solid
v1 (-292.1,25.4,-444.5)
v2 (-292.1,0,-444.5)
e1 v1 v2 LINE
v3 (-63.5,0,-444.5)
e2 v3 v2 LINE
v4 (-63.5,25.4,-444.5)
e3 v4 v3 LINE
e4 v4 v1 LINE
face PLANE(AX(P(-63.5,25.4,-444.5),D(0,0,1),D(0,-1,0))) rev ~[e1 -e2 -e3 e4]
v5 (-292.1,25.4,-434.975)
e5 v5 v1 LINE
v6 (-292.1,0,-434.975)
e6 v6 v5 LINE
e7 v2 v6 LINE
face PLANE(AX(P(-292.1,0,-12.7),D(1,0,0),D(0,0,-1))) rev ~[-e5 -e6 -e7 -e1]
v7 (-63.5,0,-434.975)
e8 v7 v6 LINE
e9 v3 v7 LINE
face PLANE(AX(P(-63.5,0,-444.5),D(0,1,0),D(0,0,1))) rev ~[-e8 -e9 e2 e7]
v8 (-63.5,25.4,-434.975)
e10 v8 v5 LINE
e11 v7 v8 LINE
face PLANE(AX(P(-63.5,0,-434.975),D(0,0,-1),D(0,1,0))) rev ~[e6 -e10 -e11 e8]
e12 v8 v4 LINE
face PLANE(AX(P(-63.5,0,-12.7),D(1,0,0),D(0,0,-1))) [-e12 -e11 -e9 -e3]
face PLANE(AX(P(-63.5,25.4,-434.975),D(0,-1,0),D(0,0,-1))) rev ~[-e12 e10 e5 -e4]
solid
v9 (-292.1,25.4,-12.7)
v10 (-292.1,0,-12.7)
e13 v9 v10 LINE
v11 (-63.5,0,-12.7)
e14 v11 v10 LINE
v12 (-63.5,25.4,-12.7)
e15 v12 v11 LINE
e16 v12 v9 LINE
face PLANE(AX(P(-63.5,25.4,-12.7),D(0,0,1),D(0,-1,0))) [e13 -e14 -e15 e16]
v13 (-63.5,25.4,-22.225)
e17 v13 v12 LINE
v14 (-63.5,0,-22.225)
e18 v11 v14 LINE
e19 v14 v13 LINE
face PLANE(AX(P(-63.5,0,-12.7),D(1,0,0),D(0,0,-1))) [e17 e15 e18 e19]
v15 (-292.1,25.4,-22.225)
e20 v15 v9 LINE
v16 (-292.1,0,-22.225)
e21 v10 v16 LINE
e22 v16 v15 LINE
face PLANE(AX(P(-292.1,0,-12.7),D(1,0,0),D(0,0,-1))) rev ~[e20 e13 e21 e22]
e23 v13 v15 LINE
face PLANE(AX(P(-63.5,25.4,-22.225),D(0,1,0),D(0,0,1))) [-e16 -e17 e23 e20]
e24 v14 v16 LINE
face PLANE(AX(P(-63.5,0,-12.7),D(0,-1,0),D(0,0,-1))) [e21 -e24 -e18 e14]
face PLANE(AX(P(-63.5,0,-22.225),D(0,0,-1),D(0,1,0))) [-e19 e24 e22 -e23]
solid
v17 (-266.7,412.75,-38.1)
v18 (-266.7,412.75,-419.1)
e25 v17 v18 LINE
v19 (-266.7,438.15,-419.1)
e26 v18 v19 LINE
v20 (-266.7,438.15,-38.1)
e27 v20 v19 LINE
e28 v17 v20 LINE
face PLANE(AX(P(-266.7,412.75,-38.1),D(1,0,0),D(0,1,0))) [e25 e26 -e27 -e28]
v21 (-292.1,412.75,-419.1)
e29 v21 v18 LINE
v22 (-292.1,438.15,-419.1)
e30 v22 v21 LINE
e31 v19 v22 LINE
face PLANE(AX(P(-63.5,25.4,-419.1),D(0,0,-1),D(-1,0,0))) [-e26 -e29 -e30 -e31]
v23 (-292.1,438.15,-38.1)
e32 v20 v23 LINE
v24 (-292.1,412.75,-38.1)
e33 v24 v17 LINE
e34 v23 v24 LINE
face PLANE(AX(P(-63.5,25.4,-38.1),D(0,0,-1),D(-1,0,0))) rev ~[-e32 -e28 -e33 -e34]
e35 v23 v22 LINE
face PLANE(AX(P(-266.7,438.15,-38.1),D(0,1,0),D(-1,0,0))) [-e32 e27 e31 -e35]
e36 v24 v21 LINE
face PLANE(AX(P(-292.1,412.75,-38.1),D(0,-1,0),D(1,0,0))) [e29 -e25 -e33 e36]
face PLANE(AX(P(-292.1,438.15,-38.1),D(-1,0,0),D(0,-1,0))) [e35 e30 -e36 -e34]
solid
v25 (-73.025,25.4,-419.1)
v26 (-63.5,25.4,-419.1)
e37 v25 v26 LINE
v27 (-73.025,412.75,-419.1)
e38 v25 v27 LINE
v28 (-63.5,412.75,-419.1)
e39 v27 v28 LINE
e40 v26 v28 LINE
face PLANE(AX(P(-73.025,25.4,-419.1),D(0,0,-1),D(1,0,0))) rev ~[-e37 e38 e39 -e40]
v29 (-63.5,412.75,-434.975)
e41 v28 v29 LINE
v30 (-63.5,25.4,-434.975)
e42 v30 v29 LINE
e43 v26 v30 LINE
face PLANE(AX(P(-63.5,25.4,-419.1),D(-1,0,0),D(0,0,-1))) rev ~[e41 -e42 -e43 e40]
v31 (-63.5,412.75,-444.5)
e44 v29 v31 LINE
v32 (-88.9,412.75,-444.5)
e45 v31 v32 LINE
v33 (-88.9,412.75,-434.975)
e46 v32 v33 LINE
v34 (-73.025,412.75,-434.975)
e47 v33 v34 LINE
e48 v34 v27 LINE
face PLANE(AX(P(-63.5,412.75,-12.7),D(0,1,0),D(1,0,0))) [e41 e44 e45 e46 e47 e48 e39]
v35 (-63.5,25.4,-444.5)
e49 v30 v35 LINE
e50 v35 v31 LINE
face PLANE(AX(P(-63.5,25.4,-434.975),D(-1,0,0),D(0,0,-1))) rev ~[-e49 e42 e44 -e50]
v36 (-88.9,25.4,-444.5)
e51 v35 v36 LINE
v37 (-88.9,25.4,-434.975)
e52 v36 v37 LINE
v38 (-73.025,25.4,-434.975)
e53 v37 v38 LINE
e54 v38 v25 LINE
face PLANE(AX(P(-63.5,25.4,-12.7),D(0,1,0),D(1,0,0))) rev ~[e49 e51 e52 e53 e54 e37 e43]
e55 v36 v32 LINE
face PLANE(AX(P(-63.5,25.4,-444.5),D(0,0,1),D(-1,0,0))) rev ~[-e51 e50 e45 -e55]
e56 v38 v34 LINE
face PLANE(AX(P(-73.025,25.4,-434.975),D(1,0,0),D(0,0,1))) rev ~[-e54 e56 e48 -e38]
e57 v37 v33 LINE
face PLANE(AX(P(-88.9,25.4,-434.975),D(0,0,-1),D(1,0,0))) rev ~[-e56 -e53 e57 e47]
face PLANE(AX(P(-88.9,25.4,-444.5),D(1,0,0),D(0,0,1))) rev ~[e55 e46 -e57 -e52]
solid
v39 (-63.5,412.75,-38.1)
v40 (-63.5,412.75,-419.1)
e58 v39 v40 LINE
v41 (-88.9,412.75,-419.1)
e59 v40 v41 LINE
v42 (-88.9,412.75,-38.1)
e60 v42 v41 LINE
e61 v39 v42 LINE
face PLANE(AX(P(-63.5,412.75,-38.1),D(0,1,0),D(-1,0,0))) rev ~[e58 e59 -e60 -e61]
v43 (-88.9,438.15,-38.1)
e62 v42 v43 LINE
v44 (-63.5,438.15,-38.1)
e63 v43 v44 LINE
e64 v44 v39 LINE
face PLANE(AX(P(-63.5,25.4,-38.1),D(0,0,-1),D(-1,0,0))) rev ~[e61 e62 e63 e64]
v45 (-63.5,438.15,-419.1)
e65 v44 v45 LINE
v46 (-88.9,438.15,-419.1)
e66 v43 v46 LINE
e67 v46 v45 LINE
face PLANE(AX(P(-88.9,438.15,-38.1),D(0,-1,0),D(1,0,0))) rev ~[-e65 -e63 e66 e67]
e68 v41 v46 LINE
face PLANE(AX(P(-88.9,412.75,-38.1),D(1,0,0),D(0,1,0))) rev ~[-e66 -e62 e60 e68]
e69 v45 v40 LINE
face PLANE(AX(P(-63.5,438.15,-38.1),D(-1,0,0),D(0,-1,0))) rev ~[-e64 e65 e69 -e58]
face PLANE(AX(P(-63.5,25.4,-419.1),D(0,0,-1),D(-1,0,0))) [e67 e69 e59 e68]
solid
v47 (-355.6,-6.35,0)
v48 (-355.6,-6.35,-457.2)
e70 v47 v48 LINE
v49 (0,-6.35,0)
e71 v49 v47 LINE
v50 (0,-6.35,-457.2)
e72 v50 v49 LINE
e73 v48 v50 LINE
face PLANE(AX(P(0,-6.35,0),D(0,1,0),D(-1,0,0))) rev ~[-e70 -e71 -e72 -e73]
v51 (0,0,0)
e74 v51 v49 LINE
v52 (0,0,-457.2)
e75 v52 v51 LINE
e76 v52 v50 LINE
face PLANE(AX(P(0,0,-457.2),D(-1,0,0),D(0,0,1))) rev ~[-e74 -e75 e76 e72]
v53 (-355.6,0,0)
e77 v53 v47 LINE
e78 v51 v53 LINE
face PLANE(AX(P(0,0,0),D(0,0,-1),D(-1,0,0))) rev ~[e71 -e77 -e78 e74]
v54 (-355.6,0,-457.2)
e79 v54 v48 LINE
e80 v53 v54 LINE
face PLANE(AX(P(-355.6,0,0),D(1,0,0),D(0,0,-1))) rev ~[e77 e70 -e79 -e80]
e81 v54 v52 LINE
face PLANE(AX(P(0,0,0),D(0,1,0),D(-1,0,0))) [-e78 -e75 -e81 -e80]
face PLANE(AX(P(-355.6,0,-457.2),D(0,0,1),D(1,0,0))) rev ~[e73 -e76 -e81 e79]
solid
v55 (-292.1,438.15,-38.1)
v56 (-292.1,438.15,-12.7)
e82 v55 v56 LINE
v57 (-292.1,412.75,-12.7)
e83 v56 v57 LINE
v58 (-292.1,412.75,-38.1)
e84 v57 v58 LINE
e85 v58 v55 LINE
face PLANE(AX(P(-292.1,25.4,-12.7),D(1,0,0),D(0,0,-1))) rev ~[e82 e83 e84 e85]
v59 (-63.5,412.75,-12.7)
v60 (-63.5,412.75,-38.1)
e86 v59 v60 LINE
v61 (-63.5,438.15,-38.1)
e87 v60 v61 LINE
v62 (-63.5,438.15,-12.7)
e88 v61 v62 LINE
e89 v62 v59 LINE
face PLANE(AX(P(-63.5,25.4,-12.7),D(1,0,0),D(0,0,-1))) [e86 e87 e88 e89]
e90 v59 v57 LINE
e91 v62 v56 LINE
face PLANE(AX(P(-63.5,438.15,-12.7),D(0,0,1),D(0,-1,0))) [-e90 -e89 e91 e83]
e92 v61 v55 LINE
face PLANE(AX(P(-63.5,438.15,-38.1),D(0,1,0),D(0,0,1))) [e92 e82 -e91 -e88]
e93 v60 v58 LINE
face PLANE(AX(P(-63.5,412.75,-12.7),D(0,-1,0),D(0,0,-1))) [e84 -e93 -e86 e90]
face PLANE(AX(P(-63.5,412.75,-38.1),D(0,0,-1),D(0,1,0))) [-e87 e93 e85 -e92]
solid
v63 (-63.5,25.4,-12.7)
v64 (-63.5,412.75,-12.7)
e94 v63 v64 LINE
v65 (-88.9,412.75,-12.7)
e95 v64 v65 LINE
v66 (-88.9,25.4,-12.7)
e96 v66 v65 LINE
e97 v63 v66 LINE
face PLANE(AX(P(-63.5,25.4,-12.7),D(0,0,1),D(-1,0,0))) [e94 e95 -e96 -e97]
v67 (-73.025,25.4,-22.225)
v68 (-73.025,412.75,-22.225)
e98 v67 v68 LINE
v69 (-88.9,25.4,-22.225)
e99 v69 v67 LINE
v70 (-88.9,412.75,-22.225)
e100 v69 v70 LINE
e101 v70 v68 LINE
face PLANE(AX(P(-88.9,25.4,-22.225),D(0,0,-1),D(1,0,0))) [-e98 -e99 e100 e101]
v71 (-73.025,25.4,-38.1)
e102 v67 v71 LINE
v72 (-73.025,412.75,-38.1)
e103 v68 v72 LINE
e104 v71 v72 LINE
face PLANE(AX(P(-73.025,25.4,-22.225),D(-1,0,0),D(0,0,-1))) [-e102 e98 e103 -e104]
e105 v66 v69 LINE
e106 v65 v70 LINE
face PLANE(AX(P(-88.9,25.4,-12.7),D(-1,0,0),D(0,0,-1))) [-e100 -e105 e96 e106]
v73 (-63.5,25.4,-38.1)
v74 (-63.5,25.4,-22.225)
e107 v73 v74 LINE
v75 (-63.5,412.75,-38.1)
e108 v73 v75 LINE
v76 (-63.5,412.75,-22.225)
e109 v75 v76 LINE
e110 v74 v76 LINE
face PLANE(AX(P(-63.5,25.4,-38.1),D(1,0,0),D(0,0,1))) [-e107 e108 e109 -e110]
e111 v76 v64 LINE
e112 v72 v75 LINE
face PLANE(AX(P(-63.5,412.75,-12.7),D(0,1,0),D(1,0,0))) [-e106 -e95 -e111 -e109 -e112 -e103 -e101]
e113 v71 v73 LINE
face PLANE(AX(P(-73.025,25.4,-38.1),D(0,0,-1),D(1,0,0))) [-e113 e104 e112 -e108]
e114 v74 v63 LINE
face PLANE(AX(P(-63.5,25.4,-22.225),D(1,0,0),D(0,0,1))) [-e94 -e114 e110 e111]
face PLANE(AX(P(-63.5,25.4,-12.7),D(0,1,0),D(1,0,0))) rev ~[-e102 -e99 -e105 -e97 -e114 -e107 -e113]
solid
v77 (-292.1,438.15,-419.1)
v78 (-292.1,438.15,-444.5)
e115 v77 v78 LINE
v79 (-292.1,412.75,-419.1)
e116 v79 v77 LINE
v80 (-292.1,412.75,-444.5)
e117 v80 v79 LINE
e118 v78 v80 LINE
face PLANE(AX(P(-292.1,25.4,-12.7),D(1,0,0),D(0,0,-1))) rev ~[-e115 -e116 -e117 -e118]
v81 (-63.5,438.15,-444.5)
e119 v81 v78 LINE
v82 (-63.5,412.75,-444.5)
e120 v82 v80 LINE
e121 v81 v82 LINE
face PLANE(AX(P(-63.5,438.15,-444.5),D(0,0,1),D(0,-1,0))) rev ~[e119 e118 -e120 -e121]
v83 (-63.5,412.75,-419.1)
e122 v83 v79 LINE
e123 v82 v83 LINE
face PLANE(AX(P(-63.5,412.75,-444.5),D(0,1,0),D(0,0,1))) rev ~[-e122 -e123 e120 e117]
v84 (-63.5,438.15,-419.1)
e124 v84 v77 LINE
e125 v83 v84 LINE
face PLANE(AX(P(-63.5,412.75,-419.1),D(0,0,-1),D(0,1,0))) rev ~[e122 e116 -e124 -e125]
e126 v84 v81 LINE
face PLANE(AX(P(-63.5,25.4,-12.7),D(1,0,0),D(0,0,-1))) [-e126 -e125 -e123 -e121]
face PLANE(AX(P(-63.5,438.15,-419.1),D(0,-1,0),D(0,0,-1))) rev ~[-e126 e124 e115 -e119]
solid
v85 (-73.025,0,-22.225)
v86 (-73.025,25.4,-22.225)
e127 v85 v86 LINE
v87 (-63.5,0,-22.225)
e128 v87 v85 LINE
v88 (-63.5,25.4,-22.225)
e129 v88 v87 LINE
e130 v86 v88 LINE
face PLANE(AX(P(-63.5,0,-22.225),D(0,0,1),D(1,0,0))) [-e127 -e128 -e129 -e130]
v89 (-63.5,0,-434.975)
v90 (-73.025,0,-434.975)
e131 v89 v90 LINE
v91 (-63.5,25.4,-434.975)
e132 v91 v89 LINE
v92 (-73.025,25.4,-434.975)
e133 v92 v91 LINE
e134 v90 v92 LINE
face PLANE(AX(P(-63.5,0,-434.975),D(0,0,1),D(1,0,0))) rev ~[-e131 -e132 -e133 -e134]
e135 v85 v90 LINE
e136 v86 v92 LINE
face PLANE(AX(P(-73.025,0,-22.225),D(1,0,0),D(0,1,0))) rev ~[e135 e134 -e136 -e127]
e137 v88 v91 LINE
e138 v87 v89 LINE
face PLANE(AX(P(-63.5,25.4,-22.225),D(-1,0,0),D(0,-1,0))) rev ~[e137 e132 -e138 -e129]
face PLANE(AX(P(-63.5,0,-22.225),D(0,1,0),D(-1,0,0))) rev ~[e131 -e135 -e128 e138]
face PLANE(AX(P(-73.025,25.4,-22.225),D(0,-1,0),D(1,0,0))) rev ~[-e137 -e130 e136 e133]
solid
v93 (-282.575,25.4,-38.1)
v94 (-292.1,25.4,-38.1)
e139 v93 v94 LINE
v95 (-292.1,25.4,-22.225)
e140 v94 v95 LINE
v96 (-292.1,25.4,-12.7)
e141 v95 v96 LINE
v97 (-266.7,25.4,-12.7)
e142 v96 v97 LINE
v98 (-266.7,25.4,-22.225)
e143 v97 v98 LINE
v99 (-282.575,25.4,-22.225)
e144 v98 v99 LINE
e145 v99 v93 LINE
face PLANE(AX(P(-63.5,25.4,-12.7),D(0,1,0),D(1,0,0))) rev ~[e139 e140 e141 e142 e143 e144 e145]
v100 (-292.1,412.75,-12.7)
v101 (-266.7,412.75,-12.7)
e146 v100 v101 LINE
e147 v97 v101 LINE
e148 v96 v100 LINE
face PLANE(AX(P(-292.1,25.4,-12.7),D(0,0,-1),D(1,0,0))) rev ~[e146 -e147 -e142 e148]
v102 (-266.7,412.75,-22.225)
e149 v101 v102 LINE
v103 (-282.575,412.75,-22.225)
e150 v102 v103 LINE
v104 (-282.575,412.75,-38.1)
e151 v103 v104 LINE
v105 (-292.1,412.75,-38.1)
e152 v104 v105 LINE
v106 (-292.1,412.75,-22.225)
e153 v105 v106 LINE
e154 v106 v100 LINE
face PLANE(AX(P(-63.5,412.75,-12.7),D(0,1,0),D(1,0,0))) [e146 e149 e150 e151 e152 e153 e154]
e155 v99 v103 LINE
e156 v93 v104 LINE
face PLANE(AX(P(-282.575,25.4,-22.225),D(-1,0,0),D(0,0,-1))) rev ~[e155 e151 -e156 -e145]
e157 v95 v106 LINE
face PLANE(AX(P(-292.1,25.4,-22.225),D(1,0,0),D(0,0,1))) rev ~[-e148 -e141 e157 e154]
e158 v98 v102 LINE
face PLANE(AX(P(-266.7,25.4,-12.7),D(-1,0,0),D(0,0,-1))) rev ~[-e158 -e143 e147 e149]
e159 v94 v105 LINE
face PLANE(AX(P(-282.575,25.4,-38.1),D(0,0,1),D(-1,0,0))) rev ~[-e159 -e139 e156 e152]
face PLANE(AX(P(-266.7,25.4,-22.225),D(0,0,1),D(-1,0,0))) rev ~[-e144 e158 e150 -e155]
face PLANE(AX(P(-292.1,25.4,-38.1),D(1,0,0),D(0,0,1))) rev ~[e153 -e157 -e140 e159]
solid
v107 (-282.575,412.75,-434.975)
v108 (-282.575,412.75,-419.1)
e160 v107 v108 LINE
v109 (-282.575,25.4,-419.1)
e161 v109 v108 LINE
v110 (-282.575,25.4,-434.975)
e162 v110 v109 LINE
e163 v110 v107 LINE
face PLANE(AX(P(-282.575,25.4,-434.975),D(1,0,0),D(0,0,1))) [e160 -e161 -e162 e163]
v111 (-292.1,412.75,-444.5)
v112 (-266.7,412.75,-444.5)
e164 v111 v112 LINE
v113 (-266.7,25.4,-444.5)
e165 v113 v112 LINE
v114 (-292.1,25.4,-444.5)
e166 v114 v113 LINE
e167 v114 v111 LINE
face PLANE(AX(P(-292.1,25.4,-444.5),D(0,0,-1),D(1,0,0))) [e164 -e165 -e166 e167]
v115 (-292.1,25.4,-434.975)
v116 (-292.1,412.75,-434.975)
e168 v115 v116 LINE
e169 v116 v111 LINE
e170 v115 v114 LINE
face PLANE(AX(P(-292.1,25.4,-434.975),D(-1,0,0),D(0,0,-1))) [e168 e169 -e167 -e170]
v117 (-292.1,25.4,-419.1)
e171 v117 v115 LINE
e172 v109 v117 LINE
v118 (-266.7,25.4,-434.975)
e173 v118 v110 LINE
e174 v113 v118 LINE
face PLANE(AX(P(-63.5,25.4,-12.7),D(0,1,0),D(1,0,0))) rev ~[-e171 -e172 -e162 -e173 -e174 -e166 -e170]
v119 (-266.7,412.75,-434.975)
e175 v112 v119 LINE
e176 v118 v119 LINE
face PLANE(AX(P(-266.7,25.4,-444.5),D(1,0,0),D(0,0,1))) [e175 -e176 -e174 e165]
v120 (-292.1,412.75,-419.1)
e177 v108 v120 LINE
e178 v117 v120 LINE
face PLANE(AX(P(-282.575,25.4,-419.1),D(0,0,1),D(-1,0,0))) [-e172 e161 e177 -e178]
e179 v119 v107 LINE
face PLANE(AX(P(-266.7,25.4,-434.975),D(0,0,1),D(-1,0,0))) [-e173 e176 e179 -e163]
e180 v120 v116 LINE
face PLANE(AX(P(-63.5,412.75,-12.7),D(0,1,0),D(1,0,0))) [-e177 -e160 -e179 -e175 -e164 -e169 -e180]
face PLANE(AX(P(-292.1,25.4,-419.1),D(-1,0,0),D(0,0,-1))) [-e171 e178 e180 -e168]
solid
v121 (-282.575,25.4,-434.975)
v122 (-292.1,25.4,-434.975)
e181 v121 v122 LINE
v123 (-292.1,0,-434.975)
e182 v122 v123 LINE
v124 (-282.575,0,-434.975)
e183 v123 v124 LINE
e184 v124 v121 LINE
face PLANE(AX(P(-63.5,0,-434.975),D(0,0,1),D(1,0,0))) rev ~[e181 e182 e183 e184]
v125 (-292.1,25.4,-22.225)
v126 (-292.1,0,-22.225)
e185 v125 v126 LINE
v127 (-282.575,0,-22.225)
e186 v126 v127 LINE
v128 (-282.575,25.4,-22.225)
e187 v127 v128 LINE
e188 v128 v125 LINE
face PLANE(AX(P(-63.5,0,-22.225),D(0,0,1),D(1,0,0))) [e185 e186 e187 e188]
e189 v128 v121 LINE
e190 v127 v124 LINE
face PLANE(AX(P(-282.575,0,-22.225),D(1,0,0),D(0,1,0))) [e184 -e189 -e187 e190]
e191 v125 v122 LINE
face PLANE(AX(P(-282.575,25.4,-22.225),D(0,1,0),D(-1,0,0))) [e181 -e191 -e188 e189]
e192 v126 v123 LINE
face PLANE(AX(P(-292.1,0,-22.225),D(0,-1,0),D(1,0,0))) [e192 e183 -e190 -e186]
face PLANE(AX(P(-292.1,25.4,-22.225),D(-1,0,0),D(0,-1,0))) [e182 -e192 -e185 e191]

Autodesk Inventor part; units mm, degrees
sketch "BasePlateShapeAndLayout" plane through (0, 0, 0) normal (0, 1, 0) x (-1, 0, 0)
  line L0 (0, 0) -> (355.6, 0)
  line L1 (355.6, 0) -> (355.6, -457.2)
  line L2 (355.6, -457.2) -> (0, -457.2)
  line L3 (0, -457.2) -> (0, 0)
  line L4 (355.6, 0) -> (0, -457.2) construction
  line L5 (355.6, -457.2) -> (0, 0) construction
  line L6 (292.1, -444.5) -> (63.5, -444.5)
  line L7 (63.5, -444.5) -> (63.5, -12.7)
  line L8 (63.5, -12.7) -> (292.1, -12.7)
  line L9 (292.1, -12.7) -> (292.1, -444.5)
  line L10 (292.1, -444.5) -> (63.5, -12.7) construction
  line L11 (63.5, -444.5) -> (292.1, -12.7) construction
  line L12 (282.575, -22.225) -> (73.025, -22.225)
  line L13 (73.025, -22.225) -> (73.025, -434.975)
  line L14 (73.025, -434.975) -> (282.575, -434.975)
  line L15 (282.575, -434.975) -> (282.575, -22.225)
  line L16 (63.5, -173.0375) -> (63.5, -12.7)
  line L17 (292.1, -22.225) -> (292.1, -12.7)
  line L18 (292.1, -12.7) -> (282.575, -12.7)
  line L19 (282.575, -12.7) -> (282.575, -22.225)
  line L20 (282.575, -22.225) -> (292.1, -22.225)
  line L21 (292.1, -22.225) -> (292.1, -12.7)
  line L22 (63.5, -12.7) -> (73.025, -12.7)
  line L23 (73.025, -12.7) -> (73.025, -22.225)
  line L24 (73.025, -22.225) -> (63.5, -22.225)
  line L25 (63.5, -22.225) -> (63.5, -12.7)
  line L26 (73.025, -434.975) -> (63.5, -434.975)
  line L27 (63.5, -434.975) -> (63.5, -444.5)
  line L28 (63.5, -444.5) -> (73.025, -444.5)
  line L29 (73.025, -444.5) -> (73.025, -434.975)
  line L30 (282.575, -434.975) -> (292.1, -434.975)
  line L31 (292.1, -434.975) -> (292.1, -444.5)
  line L32 (292.1, -444.5) -> (282.575, -444.5)
  line L33 (282.575, -444.5) -> (282.575, -434.975)
  line L34 (292.1, -12.7) -> (282.575, -22.225)
  line L35 (63.5, -12.7) -> (73.025, -22.225)
  line L36 (63.5, -444.5) -> (73.025, -434.975)
  line L37 (292.1, -444.5) -> (282.575, -434.975)
  point P0 (177.8, -228.6)
  dimension "d0" = 355.6
  dimension "d1" = 457.2
  dimension "d52" = 228.6
  dimension "d53" = 431.8
  dimension "d54" = 9.525
extrude "Extrusion1" add sketch "BasePlateShapeAndLayout" against normal blind 6.35 contours L0 L1 L2 L3 | L37 L30 L9 | L6 L33 L37 | L6 L29 L14 L33 | L30 L15 L20 L9 | L14 L13 L12 L15 | L6 L36 L29 | L20 L34 L9 | L26 L7 L24 L13 | L36 L7 L26 | L12 L23 L8 L19 | L19 L8 L34 | L35 L8 L23 | L24 L7 L35
sketch "MountingHoles" plane through (0, 0, 0) normal (0, -1, 0) x (1, 0, 0)
  line L0 (0, -457.2) -> (0, 0) projected
  line L1 (0, 0) -> (-355.6, 0) projected
  line L2 (-25.4, -431.8) -> (-25.4, 0) construction
  line L3 (-25.4, -25.4) -> (-25.4, -457.2) construction
  line L4 (-355.6, -457.2) -> (0, -457.2) construction
  line L5 (-330.2, -431.8) -> (-355.6, -431.8) construction
  line L6 (-355.6, 0) -> (-355.6, -457.2) construction
  line L7 (-25.4, -431.8) -> (0, -431.8) construction
  point P0 (-25.4, -330.2)
  point P1 (-25.4, -228.6)
  point P2 (-25.4, -127)
  point P3 (-127, -431.8)
  point P4 (-127, -330.2)
  point P5 (-127, -228.6)
  point P6 (-127, -127)
  point P7 (-127, -25.4)
  point P8 (-228.6, -431.8)
  point P9 (-228.6, -330.2)
  point P10 (-228.6, -228.6)
  point P11 (-228.6, -127)
  point P12 (-228.6, -25.4)
  point P13 (-330.2, -330.2)
  point P14 (-330.2, -228.6)
  point P15 (-330.2, -127)
  point P16 (-330.2, -25.4)
  dimension "d8" = 101.6
  dimension "d11" = 101.6
ref_plane "Work Plane6" through (-63.5, 0, -12.7) normal (1, 0, 0) x (0, 0, -1)
ref_plane "Work Plane7" through (-63.5, 0, -22.225) normal (0, 0, 1) x (1, 0, 0)
ref_plane "Work Plane8" through (-63.5, 0, -434.975) normal (0, 0, -1) x (-1, 0, 0)
ref_plane "Work Plane9" through (-292.1, 0, -12.7) normal (-1, 0, 0) x (0, 0, 1)
sketch "Sketch7" plane through (-63.5, 0, -12.7) normal (1, 0, 0) x (0, 0, -1)
  line L0 (0, 0) -> (9.525, 0)
  line L1 (9.525, 0) -> (9.525, 25.4)
  line L2 (9.525, 25.4) -> (0, 25.4)
  line L3 (0, 25.4) -> (0, 0)
  line L4 (431.8, 0) -> (0, 0) projected
  line L5 (215.9, 0) -> (215.9, 19.2581) construction
  line L6 (431.8, 0) -> (422.275, 0)
  line L7 (422.275, 0) -> (422.275, 25.4)
  line L8 (422.275, 25.4) -> (431.8, 25.4)
  line L9 (431.8, 25.4) -> (431.8, 0)
  point P0 (-12.7, 0)
  point P1 (0, 0)
  point P2 (431.8, 0)
  point P3 (422.275, 0)
  dimension "d62" = 9.525
  dimension "d63" = 25.4
sketch "Sketch8" plane through (-63.5, 0, -22.225) normal (0, 0, 1) x (1, 0, 0)
  line L0 (0, 0) -> (-9.525, 0)
  line L1 (-9.525, 0) -> (-9.525, 25.4)
  line L2 (-9.525, 25.4) -> (0, 25.4)
  line L3 (0, 25.4) -> (0, 0)
  line L4 (-114.3, 0) -> (-114.3, 16.4265) construction
  line L5 (-228.6, 0) -> (-219.075, 0)
  line L6 (-219.075, 0) -> (-219.075, 25.4)
  line L7 (-219.075, 25.4) -> (-228.6, 25.4)
  line L8 (-228.6, 25.4) -> (-228.6, 0)
  point P0 (63.5, 0)
  point P1 (0, 0)
  point P2 (-228.6, 0)
  dimension "d64" = 9.525
  dimension "d65" = 25.4
extrude "Extrusion9" add sketch "Sketch7" against normal up to surface (228.6 mm away) separate body contours L3 L2 L1 L0
extrude "Extrusion10" add sketch "Sketch7" against normal up to surface (228.6 mm away) separate body contours L7 L8 L9 L4
extrude "Extrusion11" add sketch "Sketch8" against normal up to surface (412.75 mm away) separate body contours L0 L1 L2 L3
extrude "Extrusion12" add sketch "Sketch8" against normal up to surface (412.75 mm away) separate body contours L8 L7 L6 L5
sketch "Sketch9" plane through (-63.5, 25.4, -12.7) normal (0, 1, 0) x (1, 0, 0)
  line L0 (0, 9.525) -> (0, 0) projected
  line L1 (0, 0) -> (-25.4, 0)
  line L2 (-25.4, 0) -> (-25.4, 25.4)
  line L3 (-25.4, 25.4) -> (0, 25.4)
  line L4 (0, 25.4) -> (0, 0)
  line L5 (-25.4, 9.525) -> (-9.525, 9.525)
  line L6 (-114.3, 215.9) -> (-110.8317, 215.9) construction
  line L7 (-114.3, 215.9) -> (-114.3, 210.2054) construction
  line L8 (-9.525, 9.525) -> (-9.525, 25.4)
  line L9 (-228.6, 9.525) -> (-228.6, 0)
  line L10 (-228.6, 0) -> (-203.2, 0)
  line L11 (-203.2, 0) -> (-203.2, 25.4)
  line L12 (-203.2, 25.4) -> (-228.6, 25.4)
  line L13 (-228.6, 25.4) -> (-228.6, 0)
  line L14 (-203.2, 9.525) -> (-219.075, 9.525)
  line L15 (-219.075, 9.525) -> (-219.075, 25.4)
  line L16 (0, 422.275) -> (0, 431.8)
  line L17 (0, 431.8) -> (-25.4, 431.8)
  line L18 (-25.4, 431.8) -> (-25.4, 406.4)
  line L19 (-25.4, 406.4) -> (0, 406.4)
  line L20 (0, 406.4) -> (0, 431.8)
  line L21 (-25.4, 422.275) -> (-9.525, 422.275)
  line L22 (-9.525, 422.275) -> (-9.525, 406.4)
  line L23 (-228.6, 422.275) -> (-228.6, 431.8)
  line L24 (-228.6, 431.8) -> (-203.2, 431.8)
  line L25 (-203.2, 431.8) -> (-203.2, 406.4)
  line L26 (-203.2, 406.4) -> (-228.6, 406.4)
  line L27 (-228.6, 406.4) -> (-228.6, 431.8)
  line L28 (-203.2, 422.275) -> (-219.075, 422.275)
  line L29 (-219.075, 422.275) -> (-219.075, 406.4)
  point P0 (63.5, -12.7)
  point P1 (-9.525, 9.525)
  point P2 (0, 9.525)
  point P3 (-219.075, 9.525)
  dimension "d74" = 25.4
  dimension "d75" = 25.4
  dimension "d76" = 9.525
  dimension "d86" = 9.525
extrude "Extrusion13" add sketch "Sketch9" along normal blind 387.35 separate body contours L0 L1 L2 L5 L8 L3 L4
extrude "Extrusion14" add sketch "Sketch9" along normal blind 387.35 separate body contours L13 L12 L15 L14 L11 L10 L9
extrude "Extrusion15" add sketch "Sketch9" along normal blind 387.35 separate body contours L23 L24 L25 L28 L29 L26 L27
extrude "Extrusion16" add sketch "Sketch9" along normal blind 387.35 separate body contours L20 L19 L22 L21 L18 L17 L16
sketch "Sketch10" plane through (-63.5, 25.4, -12.7) normal (1, 0, 0) x (0, 0, -1)
  line L0 (0, 387.35) -> (25.4, 387.35) projected
  line L1 (0, 387.35) -> (25.4, 387.35)
  line L2 (25.4, 387.35) -> (25.4, 412.75)
  line L3 (25.4, 412.75) -> (0, 412.75)
  line L4 (0, 412.75) -> (0, 387.35)
  line L5 (215.9, -25.4) -> (215.9, 31.6013) construction
  line L6 (431.8, 387.35) -> (406.4, 387.35)
  line L7 (431.8, 387.35) -> (406.4, 387.35)
  line L8 (406.4, 387.35) -> (406.4, 412.75)
  line L9 (406.4, 412.75) -> (431.8, 412.75)
  line L10 (431.8, 412.75) -> (431.8, 387.35)
  point P0 (-12.7, -25.4)
  dimension "d87" = 25.4
  dimension "d88" = 25.4
sketch "Sketch11" plane through (-63.5, 25.4, -38.1) normal (0, 0, -1) x (-1, 0, 0)
  line L0 (0, 387.35) -> (25.4, 387.35)
  line L1 (25.4, 387.35) -> (25.4, 412.75)
  line L2 (25.4, 412.75) -> (0, 412.75)
  line L3 (0, 412.75) -> (0, 387.35)
  line L4 (114.3, -25.4) -> (114.3, -19.7607) construction
  line L5 (228.6, 387.35) -> (203.2, 387.35)
  line L6 (203.2, 387.35) -> (203.2, 412.75)
  line L7 (203.2, 412.75) -> (228.6, 412.75)
  line L8 (228.6, 412.75) -> (228.6, 387.35)
  point P0 (-63.5, -25.4)
  dimension "d89" = 25.4
  dimension "d90" = 25.4
extrude "Extrusion17" add sketch "Sketch10" against normal up to surface (228.6 mm away) separate body contours L4 L3 L2 L0
extrude "Extrusion18" add sketch "Sketch10" against normal up to surface (228.6 mm away) separate body contours L6 L8 L9 L10
extrude "Extrusion19" add sketch "Sketch11" along normal up to surface (381 mm away) separate body contours L3 L2 L1 L0
extrude "Extrusion20" add sketch "Sketch11" along normal up to surface (381 mm away) separate body contours L5 L6 L7 L8
equation "\"d62\" = d76"
equation "\"d64\" = d54"
equation "\"d65\" = d63"
equation "\"d74\" = d63"
equation "\"d75\" = d63"
equation "\"d86\" = d76"
equation "\"d87\" = d63"
equation "\"d88\" = d63"
equation "\"d89\" = d63"
equation "\"d90\" = d63"
properties part number "MUDBasePlate"
